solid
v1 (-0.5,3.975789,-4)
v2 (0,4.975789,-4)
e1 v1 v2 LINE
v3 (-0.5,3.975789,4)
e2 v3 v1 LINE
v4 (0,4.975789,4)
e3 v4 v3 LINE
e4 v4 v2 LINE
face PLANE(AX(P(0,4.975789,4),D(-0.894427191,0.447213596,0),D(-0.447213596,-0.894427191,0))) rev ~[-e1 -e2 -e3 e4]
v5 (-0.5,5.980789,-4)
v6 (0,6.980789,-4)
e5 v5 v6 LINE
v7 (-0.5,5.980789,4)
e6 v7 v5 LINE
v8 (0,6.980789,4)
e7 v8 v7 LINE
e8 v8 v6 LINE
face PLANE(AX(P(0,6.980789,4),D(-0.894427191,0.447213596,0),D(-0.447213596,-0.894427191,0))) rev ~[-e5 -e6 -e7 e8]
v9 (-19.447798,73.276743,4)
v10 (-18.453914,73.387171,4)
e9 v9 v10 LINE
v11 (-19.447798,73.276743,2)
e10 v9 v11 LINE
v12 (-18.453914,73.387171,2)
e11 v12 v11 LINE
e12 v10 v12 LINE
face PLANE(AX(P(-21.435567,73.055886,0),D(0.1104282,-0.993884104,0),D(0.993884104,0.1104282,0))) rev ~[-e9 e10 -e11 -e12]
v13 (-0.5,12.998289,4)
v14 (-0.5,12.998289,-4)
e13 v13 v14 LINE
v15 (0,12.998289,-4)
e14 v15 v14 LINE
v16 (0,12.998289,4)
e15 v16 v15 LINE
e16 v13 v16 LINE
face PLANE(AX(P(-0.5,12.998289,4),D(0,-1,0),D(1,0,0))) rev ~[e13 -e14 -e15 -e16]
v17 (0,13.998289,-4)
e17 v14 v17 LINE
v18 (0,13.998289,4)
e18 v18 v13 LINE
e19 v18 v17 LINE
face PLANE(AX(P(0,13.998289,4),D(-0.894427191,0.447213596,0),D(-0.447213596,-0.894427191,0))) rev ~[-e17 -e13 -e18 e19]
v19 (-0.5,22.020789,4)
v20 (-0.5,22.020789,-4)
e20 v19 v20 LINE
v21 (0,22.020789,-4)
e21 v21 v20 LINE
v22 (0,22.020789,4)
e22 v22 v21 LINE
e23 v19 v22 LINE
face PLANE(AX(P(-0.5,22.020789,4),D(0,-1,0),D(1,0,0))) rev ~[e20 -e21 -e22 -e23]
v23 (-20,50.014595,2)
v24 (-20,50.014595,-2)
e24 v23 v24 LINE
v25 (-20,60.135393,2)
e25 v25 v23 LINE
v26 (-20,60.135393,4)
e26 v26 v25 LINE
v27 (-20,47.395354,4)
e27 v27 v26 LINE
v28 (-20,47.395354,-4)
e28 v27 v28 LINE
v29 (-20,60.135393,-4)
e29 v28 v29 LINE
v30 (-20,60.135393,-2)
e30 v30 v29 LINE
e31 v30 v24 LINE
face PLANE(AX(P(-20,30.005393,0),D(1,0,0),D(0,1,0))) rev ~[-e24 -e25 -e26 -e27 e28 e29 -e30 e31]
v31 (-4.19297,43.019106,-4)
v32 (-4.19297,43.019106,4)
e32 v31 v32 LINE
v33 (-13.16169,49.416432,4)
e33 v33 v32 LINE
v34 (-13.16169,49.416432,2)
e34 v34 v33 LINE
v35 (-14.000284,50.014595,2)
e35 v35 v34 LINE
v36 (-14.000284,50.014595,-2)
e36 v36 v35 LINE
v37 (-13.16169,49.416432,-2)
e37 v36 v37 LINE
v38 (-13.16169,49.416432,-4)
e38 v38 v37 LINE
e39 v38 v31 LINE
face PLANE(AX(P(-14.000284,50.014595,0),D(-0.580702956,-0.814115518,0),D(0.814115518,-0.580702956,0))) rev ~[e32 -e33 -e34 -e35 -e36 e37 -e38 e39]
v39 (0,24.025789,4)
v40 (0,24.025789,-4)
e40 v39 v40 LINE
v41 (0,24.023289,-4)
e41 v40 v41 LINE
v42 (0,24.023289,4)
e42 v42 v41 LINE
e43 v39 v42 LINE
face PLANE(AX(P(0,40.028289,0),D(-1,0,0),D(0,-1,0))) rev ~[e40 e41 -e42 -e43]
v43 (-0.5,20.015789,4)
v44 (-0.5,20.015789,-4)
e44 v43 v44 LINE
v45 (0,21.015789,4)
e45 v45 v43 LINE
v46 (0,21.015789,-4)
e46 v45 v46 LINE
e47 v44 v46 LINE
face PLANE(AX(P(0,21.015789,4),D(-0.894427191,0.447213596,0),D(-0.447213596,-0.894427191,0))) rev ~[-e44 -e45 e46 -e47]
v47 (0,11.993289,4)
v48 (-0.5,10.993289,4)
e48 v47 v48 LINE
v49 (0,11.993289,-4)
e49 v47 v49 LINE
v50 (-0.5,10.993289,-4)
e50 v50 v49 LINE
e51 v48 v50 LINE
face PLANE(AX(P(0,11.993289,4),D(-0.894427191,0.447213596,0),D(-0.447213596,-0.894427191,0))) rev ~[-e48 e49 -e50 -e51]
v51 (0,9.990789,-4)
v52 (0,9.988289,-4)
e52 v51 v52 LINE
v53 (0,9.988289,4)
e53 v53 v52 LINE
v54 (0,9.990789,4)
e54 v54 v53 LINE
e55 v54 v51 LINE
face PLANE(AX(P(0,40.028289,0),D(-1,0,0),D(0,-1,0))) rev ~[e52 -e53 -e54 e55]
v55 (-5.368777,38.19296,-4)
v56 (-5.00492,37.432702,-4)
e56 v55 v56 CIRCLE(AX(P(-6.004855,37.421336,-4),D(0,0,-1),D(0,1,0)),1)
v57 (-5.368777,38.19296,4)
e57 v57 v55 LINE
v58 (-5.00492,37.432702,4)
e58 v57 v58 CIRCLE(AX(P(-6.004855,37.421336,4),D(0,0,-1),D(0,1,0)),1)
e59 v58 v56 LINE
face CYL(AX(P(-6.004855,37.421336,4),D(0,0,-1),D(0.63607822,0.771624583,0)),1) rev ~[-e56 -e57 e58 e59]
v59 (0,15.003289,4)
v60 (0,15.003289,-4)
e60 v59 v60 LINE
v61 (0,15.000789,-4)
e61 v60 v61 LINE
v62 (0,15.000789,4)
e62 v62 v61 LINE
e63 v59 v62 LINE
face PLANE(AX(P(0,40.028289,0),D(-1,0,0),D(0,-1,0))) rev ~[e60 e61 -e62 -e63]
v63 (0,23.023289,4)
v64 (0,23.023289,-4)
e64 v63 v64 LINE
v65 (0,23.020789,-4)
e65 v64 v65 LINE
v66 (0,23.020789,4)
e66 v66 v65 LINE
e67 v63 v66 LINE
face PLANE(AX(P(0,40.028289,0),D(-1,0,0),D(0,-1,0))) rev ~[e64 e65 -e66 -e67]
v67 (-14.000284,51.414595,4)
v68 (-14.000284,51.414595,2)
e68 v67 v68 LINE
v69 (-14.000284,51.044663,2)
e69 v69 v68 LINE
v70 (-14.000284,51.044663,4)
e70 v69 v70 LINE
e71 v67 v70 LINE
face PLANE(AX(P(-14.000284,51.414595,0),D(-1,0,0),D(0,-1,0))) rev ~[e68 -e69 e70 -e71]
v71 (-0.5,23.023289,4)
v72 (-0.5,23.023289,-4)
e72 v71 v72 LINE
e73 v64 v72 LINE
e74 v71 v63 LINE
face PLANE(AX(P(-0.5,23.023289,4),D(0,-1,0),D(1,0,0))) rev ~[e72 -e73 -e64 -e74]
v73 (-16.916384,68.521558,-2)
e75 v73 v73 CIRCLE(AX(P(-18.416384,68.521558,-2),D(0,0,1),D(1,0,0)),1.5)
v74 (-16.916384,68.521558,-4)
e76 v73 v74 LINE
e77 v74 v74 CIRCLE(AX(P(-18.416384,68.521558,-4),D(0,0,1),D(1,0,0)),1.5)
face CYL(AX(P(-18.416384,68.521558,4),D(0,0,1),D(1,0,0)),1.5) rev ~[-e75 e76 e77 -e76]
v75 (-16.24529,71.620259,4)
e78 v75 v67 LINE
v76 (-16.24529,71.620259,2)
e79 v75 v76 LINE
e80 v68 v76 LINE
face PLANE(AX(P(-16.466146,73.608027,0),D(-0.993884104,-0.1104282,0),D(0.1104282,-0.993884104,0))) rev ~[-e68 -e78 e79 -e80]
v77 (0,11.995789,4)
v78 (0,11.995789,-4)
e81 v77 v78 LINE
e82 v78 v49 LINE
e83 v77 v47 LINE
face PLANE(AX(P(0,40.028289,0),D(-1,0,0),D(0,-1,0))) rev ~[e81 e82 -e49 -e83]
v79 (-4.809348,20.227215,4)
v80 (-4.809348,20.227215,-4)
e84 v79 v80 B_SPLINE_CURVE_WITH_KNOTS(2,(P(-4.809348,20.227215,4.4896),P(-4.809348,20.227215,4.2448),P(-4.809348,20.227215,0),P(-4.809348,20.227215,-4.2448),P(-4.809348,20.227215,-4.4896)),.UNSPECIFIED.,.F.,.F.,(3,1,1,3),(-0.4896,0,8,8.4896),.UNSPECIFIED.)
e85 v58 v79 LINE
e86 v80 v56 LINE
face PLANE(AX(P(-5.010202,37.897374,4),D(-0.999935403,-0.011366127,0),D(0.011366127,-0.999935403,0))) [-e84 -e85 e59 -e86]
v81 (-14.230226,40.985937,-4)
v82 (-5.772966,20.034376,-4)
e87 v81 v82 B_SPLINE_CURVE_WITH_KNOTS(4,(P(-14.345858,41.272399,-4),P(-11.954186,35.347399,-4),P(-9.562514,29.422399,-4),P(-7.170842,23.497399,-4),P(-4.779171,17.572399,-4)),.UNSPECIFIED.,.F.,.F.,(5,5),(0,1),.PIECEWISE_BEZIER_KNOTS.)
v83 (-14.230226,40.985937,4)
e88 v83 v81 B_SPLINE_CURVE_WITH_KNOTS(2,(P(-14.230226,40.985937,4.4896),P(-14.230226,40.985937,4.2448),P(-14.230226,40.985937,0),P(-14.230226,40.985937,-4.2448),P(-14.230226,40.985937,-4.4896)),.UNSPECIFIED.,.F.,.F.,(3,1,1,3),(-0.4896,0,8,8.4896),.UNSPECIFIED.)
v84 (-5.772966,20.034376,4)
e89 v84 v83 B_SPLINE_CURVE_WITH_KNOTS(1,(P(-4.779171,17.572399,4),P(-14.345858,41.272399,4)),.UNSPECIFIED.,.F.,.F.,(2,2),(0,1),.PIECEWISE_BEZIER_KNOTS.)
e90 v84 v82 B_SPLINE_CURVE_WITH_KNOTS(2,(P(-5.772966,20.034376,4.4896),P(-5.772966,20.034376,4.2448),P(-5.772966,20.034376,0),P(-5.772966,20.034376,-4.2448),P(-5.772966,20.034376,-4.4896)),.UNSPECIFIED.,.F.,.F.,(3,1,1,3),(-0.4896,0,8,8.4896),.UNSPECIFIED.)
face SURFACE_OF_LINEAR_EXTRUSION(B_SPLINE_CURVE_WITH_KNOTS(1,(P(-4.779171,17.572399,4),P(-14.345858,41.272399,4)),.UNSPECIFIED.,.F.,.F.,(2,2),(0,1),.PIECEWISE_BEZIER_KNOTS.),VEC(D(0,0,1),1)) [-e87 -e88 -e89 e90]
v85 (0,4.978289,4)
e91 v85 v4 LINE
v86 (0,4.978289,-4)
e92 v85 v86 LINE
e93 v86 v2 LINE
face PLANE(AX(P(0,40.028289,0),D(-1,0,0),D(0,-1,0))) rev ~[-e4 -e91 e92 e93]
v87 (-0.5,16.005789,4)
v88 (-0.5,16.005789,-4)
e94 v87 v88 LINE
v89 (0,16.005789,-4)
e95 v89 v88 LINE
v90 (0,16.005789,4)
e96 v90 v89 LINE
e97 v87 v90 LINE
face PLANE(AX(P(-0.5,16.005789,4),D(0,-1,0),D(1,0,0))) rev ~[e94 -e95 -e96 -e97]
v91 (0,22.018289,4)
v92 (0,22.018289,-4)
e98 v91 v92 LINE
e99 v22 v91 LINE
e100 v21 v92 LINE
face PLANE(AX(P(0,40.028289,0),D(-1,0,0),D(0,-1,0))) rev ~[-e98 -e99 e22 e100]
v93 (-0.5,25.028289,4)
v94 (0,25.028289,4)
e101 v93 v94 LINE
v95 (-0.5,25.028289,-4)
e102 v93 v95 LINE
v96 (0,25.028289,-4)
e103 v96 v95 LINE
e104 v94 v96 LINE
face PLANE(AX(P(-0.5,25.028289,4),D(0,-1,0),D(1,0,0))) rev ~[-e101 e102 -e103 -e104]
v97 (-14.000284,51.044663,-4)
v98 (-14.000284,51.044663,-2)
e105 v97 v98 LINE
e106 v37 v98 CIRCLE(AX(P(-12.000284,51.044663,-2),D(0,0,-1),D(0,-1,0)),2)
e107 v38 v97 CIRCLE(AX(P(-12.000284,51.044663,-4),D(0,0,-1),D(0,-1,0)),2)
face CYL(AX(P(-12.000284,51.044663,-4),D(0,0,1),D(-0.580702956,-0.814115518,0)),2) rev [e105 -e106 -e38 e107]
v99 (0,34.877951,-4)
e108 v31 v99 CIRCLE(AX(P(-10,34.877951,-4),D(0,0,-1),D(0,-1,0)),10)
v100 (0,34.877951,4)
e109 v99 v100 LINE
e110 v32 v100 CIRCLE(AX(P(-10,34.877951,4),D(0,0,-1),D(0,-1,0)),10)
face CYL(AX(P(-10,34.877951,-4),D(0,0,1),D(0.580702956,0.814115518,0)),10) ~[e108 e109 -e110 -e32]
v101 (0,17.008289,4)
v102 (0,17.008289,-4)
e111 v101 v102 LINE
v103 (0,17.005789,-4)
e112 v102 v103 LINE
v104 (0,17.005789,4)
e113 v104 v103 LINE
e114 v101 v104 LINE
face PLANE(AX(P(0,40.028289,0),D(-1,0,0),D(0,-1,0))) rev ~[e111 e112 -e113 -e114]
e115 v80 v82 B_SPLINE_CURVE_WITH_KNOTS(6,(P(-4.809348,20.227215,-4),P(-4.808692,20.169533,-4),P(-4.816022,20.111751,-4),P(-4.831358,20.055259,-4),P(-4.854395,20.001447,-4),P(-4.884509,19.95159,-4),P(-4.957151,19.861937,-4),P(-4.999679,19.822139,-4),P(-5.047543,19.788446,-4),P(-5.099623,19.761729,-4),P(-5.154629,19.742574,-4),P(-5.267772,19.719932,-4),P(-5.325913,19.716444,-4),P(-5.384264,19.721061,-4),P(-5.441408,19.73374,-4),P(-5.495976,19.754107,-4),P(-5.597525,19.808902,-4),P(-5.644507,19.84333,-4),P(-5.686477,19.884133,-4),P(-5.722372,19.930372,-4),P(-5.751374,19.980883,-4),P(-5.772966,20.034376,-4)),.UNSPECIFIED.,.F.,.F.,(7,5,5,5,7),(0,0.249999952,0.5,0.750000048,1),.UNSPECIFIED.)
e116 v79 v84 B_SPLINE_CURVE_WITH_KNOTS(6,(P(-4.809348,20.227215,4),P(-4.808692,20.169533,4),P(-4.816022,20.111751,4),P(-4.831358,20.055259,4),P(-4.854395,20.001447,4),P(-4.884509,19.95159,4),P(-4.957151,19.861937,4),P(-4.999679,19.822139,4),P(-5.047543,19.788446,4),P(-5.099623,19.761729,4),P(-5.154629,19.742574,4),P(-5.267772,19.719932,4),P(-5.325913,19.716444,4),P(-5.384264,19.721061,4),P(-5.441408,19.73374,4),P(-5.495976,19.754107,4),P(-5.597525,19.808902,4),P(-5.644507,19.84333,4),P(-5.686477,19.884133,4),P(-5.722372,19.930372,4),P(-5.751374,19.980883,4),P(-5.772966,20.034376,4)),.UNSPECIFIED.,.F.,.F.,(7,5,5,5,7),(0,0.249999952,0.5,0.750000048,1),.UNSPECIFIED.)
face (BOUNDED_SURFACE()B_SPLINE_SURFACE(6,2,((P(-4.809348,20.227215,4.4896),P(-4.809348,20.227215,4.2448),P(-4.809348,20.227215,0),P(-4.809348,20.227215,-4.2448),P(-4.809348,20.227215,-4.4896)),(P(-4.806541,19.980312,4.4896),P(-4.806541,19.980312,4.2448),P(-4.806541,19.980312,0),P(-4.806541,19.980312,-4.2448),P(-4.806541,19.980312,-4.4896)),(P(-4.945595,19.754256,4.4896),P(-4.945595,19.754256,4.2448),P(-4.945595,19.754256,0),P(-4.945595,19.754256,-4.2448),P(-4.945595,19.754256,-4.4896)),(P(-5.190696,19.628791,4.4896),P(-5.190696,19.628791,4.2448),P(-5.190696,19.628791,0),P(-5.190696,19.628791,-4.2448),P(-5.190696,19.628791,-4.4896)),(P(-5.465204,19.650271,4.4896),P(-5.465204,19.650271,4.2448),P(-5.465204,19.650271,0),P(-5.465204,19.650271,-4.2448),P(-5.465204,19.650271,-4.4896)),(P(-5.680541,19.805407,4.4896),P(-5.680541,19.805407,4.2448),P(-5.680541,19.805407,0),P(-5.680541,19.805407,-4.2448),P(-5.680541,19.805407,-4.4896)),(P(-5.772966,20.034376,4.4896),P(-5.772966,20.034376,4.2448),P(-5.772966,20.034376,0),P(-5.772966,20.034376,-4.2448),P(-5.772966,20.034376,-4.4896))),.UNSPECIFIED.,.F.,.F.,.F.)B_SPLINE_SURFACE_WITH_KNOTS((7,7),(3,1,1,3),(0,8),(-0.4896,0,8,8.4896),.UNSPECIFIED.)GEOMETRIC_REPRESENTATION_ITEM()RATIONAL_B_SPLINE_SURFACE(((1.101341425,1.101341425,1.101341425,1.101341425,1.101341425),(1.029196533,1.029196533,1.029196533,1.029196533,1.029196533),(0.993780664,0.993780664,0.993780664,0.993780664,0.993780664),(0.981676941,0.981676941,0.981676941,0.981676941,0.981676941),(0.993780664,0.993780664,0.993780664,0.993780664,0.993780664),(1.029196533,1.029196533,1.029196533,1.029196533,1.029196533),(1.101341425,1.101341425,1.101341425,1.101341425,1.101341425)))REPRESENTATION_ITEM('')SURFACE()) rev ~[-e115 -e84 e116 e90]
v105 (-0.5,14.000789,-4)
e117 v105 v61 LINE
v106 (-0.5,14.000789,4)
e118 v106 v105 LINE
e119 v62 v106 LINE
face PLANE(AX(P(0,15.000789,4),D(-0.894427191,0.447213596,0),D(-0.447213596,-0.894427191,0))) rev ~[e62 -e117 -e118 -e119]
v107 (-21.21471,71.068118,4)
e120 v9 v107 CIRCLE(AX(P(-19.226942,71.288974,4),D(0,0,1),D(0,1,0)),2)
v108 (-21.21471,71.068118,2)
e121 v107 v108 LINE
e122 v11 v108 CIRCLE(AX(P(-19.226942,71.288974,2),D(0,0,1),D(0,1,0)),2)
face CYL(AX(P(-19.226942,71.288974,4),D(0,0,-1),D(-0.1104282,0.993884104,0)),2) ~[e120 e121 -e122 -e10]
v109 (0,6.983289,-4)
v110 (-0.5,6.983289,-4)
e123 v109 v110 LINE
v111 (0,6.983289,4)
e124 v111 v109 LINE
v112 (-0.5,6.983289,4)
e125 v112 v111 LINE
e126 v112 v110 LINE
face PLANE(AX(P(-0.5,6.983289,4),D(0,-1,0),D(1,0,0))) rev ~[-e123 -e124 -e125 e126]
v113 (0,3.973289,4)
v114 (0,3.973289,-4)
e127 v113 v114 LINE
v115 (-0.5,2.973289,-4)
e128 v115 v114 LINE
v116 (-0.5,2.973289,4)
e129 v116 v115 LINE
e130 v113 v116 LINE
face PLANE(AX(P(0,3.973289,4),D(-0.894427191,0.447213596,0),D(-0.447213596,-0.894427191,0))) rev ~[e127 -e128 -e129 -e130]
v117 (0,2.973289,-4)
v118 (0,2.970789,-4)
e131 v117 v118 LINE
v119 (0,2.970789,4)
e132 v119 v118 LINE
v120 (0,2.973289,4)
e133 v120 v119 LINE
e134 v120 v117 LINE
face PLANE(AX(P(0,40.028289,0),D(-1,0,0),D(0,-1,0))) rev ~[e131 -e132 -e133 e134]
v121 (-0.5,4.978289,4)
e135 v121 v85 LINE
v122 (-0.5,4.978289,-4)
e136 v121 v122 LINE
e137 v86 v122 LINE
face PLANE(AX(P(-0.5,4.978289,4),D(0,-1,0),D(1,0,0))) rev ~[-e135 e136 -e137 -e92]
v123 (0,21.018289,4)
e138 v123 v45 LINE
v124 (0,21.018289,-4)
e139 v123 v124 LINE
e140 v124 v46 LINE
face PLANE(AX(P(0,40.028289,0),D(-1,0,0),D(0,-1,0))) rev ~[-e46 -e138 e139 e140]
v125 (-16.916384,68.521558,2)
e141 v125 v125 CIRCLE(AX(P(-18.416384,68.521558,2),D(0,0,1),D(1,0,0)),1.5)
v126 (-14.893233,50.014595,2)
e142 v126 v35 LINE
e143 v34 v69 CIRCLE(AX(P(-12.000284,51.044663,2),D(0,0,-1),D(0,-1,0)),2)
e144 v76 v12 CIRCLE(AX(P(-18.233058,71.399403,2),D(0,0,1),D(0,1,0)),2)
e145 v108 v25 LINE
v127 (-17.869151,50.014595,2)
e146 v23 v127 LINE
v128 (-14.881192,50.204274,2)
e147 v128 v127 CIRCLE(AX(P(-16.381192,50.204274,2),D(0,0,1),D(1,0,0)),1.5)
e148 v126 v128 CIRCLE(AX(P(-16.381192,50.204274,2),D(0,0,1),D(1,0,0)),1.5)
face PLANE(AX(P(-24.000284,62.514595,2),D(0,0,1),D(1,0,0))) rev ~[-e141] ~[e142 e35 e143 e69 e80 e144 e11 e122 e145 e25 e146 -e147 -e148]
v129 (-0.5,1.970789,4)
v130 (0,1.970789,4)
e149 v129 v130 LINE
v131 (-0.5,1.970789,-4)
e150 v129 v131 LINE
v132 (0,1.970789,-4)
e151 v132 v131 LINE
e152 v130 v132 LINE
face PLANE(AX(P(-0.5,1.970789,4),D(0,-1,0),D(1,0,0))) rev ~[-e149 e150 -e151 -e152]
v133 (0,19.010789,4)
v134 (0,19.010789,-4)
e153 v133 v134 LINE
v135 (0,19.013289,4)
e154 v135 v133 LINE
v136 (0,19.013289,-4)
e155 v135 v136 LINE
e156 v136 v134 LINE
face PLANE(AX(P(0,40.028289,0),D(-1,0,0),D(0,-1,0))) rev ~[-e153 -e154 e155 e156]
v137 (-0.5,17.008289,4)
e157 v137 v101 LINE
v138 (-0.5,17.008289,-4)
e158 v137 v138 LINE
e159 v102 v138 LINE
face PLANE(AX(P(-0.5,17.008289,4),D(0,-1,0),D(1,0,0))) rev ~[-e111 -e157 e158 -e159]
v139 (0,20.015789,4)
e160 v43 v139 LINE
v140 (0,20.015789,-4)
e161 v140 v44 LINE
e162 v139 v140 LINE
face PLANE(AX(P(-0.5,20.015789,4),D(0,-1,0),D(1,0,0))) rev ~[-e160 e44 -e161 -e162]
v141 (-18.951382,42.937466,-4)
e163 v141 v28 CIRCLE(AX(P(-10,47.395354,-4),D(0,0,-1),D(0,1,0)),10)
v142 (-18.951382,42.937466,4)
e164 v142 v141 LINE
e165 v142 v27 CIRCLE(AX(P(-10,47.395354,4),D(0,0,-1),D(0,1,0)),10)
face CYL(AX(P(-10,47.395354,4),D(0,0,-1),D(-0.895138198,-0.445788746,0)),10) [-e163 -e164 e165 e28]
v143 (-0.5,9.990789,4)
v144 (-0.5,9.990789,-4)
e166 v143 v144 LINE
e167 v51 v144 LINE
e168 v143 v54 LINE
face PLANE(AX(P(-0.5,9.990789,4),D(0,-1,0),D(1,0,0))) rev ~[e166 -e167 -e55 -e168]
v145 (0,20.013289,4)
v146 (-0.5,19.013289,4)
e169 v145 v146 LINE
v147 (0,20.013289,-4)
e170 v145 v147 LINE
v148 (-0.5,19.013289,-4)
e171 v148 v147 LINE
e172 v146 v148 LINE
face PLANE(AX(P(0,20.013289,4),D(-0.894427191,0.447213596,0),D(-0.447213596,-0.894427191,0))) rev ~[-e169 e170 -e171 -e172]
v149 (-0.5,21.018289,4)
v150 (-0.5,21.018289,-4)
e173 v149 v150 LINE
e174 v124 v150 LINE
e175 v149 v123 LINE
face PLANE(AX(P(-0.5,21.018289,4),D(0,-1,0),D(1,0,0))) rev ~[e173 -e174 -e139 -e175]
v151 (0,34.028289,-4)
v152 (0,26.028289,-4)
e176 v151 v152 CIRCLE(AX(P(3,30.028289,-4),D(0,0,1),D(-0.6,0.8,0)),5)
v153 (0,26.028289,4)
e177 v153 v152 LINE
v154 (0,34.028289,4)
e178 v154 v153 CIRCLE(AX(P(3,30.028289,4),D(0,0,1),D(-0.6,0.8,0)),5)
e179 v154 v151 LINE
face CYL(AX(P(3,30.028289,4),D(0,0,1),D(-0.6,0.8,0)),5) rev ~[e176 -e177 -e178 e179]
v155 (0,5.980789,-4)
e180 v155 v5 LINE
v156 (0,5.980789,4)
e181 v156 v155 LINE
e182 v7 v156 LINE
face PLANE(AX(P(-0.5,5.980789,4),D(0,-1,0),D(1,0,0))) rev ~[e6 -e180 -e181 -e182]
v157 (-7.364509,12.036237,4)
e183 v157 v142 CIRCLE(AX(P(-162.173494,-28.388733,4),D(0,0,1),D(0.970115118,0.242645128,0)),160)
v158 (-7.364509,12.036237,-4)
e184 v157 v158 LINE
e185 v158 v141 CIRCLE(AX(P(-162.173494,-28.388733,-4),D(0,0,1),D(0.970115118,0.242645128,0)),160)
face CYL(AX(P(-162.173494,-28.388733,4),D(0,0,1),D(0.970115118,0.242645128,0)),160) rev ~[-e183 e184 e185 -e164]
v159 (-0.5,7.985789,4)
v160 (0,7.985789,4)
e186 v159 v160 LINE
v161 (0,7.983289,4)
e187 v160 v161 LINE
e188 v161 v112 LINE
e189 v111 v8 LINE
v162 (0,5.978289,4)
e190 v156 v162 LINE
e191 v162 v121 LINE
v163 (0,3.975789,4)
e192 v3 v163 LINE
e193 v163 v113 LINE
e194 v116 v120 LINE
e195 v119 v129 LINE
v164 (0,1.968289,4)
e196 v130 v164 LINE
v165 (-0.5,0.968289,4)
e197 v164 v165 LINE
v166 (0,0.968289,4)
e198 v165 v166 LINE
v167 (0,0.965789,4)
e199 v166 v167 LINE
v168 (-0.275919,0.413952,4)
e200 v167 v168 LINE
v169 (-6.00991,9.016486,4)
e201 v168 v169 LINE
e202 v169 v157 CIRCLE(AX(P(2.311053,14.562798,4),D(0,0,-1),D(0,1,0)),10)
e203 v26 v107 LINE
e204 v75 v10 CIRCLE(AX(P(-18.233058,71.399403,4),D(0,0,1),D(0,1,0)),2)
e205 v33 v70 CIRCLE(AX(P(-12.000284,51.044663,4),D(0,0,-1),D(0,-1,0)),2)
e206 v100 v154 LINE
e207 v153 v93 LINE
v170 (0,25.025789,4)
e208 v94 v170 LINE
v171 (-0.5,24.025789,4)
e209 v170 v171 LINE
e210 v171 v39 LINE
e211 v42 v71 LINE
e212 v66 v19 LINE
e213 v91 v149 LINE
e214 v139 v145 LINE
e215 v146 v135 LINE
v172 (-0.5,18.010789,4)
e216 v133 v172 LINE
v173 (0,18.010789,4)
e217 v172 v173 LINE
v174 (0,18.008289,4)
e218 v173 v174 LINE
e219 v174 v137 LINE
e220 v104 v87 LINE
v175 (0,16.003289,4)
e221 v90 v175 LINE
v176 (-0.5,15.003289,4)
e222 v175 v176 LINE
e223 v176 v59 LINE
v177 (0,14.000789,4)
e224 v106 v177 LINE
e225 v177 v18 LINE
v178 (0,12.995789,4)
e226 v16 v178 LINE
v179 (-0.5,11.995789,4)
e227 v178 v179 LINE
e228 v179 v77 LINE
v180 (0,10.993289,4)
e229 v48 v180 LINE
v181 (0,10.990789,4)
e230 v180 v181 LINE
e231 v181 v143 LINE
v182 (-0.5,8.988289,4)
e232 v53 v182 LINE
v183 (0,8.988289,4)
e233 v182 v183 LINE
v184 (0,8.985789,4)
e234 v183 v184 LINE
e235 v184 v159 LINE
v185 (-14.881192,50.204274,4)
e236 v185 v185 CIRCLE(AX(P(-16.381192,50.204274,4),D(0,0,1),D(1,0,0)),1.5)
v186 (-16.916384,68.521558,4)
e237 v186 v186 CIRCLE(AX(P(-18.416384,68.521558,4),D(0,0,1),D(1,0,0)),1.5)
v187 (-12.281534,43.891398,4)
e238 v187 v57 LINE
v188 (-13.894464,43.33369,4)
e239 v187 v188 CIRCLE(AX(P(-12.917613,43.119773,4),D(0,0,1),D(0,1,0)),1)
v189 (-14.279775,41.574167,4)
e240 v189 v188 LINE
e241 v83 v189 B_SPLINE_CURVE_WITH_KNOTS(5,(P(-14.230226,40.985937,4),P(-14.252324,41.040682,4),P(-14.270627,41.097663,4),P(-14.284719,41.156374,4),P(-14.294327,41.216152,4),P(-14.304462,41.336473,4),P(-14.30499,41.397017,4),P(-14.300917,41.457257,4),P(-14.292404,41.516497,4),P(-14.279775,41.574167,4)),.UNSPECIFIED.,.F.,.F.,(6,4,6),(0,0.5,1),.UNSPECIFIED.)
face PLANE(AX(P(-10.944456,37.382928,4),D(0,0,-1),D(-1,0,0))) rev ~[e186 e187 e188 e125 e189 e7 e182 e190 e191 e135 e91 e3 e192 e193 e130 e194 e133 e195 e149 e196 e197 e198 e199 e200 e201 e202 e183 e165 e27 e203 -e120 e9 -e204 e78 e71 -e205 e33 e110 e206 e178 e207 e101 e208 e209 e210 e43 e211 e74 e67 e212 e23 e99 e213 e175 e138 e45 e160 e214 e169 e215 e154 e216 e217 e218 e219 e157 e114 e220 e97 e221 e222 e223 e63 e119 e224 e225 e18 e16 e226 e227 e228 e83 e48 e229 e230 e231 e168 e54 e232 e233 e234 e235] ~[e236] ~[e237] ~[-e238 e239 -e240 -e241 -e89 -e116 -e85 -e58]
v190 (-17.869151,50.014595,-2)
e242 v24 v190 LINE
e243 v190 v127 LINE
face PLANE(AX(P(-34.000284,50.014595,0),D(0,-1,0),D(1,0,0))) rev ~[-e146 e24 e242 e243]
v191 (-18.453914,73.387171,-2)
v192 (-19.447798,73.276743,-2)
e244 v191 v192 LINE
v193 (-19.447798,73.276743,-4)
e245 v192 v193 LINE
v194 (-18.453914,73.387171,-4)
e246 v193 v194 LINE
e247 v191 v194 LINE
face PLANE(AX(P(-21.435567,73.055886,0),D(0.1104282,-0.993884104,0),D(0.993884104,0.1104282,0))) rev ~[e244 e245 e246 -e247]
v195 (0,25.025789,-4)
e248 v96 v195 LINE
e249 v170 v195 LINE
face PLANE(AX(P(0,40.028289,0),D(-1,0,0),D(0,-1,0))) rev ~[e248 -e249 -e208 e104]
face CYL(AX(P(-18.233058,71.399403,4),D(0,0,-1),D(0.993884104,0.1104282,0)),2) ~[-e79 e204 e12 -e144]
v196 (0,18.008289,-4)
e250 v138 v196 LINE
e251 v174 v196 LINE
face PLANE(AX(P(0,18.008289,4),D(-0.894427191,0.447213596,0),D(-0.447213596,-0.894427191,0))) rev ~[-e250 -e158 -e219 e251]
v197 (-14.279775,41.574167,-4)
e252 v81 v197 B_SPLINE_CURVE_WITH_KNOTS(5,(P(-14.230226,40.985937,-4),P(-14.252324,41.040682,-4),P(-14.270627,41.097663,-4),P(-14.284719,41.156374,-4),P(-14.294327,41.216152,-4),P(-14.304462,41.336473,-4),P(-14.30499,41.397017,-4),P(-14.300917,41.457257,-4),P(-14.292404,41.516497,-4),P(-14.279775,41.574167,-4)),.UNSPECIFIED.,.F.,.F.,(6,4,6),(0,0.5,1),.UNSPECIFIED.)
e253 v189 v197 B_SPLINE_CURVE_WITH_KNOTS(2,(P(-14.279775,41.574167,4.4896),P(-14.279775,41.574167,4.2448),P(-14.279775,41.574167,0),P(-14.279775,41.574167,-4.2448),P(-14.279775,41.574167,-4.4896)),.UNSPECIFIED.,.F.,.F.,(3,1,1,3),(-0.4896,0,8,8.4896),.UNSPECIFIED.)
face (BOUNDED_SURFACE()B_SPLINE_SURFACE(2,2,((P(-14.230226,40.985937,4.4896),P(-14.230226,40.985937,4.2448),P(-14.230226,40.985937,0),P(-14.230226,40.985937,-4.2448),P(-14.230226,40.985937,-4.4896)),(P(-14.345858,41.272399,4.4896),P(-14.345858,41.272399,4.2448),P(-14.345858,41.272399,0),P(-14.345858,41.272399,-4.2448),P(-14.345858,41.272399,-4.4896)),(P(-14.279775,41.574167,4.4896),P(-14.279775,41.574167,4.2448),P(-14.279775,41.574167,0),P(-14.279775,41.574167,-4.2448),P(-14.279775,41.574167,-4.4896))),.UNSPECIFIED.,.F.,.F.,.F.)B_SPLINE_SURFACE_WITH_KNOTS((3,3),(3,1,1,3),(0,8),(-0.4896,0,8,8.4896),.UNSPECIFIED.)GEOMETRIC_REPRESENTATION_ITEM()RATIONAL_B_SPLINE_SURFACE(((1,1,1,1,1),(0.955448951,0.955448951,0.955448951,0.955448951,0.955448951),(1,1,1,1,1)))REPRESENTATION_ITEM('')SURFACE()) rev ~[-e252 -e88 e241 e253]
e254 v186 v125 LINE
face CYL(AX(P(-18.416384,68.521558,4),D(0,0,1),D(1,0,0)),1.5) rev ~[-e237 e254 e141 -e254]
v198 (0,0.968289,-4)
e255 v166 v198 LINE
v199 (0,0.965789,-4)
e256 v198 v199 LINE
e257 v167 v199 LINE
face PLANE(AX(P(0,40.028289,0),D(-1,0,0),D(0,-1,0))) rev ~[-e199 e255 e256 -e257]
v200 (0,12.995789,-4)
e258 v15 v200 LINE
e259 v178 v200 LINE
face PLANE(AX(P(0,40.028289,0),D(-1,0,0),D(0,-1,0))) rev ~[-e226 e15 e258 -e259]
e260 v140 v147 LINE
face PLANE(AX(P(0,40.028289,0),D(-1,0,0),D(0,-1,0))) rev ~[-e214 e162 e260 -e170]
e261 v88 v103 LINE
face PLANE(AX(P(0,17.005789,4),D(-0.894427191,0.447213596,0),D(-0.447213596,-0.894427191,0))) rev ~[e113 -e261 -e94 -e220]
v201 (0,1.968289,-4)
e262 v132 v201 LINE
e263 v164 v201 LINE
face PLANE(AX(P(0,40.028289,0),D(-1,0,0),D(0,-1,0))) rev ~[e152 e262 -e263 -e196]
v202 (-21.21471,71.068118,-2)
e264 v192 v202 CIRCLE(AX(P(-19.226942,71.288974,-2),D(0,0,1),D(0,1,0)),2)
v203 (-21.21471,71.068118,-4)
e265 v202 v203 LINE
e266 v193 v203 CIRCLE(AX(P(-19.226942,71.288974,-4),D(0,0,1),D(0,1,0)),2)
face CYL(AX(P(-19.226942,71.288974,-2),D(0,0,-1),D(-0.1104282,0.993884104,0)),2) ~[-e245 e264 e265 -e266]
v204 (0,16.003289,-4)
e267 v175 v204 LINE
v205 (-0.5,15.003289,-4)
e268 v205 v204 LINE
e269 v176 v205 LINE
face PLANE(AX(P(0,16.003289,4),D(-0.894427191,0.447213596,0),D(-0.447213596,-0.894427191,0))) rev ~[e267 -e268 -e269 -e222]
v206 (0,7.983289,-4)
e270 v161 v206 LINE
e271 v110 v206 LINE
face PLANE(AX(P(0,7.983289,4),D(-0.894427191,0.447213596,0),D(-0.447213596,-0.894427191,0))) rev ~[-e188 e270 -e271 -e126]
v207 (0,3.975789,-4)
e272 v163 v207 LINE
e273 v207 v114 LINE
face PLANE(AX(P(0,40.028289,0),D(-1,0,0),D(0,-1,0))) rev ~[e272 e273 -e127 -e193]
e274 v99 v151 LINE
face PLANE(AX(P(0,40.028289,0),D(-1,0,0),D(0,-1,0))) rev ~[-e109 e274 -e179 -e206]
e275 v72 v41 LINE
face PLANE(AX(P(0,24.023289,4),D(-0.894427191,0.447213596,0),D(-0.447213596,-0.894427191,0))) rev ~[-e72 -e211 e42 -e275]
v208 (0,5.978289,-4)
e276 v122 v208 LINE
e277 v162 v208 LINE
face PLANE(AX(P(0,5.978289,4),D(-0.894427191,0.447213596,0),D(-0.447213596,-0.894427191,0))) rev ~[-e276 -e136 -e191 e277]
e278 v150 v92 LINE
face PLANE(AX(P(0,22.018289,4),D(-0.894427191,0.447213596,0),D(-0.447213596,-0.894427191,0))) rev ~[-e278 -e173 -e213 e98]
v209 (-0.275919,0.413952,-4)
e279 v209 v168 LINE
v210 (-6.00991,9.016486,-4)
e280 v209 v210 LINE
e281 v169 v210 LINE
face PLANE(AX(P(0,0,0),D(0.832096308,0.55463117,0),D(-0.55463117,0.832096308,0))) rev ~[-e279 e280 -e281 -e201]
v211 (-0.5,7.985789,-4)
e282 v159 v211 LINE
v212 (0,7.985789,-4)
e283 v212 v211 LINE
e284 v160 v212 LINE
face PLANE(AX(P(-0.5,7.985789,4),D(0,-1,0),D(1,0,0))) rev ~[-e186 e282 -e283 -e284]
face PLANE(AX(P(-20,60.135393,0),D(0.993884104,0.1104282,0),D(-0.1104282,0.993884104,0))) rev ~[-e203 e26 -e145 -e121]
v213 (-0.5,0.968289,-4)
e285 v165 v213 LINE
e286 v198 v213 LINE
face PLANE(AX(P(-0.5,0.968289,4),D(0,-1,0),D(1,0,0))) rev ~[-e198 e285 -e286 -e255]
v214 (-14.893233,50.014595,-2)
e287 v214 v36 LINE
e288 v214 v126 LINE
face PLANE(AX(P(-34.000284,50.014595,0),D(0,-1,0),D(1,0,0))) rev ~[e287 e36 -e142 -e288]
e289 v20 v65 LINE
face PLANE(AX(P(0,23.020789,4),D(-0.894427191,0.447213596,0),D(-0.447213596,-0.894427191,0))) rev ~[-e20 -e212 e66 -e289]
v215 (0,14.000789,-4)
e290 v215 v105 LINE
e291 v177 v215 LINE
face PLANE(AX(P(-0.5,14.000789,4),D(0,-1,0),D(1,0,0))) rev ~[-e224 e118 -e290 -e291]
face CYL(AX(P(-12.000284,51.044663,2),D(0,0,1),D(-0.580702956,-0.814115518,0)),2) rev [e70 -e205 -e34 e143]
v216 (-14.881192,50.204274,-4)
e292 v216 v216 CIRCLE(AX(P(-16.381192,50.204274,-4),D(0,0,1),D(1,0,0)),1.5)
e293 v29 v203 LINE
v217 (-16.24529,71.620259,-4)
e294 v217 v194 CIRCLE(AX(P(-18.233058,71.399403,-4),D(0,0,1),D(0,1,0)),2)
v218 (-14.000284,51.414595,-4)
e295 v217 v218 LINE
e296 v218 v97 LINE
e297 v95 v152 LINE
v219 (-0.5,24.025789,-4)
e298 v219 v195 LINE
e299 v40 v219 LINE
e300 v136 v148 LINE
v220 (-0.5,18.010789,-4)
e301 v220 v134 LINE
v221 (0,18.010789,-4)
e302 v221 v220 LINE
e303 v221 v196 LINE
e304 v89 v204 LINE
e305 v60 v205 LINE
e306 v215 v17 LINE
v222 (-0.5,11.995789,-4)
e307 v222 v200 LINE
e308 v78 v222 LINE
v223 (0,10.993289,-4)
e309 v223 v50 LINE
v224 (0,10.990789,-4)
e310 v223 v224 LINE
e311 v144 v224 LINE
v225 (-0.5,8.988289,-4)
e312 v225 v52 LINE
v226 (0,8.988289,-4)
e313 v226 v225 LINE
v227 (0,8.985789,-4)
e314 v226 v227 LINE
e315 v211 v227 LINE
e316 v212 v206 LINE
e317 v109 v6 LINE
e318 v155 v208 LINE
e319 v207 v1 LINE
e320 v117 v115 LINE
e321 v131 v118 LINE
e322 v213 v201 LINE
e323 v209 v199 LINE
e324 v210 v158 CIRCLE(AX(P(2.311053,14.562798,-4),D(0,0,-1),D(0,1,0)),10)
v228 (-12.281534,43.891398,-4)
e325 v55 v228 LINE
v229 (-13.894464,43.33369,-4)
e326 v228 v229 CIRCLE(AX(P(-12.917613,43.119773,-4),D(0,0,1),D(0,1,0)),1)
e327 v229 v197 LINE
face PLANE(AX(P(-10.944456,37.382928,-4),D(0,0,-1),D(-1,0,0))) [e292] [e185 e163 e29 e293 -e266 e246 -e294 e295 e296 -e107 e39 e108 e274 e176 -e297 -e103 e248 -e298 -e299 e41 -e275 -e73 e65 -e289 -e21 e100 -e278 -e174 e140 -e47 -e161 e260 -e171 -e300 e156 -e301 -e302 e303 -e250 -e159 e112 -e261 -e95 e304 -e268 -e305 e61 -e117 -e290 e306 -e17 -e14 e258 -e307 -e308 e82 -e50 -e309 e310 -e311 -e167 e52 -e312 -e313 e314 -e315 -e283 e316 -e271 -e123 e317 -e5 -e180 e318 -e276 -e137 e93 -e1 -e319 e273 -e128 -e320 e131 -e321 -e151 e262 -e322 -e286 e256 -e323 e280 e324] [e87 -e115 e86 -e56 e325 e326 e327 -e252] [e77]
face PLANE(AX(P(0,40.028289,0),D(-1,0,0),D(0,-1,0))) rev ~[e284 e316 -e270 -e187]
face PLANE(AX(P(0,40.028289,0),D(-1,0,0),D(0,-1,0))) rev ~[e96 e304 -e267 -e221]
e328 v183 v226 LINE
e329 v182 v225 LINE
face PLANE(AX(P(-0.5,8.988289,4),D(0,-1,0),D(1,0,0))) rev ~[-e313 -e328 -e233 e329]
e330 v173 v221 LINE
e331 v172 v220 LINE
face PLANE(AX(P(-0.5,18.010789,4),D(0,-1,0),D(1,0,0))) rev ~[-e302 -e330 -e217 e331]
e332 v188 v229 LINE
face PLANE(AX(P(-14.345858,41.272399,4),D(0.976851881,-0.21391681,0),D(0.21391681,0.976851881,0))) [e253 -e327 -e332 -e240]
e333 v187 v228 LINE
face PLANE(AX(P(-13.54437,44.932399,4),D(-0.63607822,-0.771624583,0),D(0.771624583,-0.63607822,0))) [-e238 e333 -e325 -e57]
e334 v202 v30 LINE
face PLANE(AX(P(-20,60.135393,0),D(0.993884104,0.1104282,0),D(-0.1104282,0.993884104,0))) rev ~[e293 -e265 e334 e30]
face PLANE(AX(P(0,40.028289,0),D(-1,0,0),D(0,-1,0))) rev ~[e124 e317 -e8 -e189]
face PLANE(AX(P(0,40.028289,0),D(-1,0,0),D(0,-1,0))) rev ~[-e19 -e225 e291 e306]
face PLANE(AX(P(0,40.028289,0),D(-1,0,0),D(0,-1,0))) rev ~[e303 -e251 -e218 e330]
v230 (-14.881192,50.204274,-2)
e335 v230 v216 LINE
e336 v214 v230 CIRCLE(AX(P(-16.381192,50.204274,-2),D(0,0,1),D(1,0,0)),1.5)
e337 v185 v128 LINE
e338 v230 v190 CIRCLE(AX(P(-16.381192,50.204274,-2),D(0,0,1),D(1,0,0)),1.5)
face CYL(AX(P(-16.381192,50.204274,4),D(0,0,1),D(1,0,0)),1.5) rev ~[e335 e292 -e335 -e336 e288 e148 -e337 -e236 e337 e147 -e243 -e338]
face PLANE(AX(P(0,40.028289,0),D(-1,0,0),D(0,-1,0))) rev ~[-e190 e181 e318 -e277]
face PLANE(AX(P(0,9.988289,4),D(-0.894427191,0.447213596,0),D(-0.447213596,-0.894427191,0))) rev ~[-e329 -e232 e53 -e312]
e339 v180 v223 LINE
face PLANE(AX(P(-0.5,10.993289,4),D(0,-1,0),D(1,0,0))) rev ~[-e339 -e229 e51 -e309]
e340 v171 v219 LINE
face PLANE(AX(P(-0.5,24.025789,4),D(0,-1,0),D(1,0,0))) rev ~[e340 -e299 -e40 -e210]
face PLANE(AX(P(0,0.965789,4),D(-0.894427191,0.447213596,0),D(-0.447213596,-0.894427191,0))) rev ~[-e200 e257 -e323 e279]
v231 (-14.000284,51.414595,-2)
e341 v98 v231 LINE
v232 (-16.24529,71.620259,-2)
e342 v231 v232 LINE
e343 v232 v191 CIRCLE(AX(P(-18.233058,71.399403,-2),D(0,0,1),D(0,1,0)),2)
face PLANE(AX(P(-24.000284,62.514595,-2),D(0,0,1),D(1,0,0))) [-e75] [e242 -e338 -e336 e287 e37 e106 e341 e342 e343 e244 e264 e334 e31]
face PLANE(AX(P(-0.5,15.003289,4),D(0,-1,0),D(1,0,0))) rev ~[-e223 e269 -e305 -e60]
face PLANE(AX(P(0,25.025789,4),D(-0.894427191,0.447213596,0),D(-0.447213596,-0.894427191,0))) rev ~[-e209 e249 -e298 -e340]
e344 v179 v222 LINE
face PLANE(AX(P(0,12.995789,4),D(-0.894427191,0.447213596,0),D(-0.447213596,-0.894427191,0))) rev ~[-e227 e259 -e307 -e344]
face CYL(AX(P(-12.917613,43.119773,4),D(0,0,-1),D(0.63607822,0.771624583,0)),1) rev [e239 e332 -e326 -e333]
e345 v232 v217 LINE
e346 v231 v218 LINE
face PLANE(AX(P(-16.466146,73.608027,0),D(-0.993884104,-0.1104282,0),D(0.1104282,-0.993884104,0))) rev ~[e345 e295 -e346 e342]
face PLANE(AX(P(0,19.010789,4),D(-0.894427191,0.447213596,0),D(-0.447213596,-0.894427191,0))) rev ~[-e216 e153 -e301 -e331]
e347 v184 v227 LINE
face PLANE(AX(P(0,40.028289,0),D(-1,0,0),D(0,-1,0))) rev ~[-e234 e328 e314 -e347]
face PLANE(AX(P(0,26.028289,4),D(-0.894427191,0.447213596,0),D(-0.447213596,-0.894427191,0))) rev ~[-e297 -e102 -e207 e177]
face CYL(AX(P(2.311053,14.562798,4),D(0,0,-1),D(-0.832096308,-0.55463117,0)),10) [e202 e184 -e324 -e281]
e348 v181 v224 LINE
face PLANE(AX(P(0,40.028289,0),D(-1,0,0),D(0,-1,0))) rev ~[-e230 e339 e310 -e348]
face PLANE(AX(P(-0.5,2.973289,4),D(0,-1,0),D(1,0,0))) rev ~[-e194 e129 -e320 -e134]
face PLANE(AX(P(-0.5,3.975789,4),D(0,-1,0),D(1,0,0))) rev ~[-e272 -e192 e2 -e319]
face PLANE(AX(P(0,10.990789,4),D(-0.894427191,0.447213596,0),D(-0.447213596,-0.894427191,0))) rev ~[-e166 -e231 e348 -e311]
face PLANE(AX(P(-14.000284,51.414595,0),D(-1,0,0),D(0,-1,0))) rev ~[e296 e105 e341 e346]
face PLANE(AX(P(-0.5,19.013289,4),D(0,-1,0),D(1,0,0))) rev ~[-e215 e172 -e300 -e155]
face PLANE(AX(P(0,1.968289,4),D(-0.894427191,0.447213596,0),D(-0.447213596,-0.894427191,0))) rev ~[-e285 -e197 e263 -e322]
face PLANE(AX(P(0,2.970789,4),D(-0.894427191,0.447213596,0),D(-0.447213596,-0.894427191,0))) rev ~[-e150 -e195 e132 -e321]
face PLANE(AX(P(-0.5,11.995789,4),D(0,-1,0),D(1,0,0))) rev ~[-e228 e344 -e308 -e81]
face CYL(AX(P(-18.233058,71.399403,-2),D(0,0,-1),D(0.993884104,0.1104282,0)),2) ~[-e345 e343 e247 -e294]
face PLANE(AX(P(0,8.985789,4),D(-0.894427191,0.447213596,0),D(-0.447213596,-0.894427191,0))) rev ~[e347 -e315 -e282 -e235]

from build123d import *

# Parameters (mm, degrees)
BOSS_EXTRUDE1_DEPTH     = 4
SKETCH2_W               = 20
SKETCH2_H               = 25
CUT_EXTRUDE1_DEPTH      = 2
CUT_EXTRUDE2_DEPTH      = 1
CUT_EXTRUDE2_DEPTH_BACK = 9
CUT_EXTRUDE3_DEPTH      = 9
LPATTERN2_COUNT         = 26
LPATTERN2_PITCH         = 1.0025
CUT_EXTRUDE4_DEPTH      = 9
CUT_EXTRUDE5_DEPTH      = 9
FILLET1_R               = 10
FILLET2_R               = 2
FILLET3_R               = 1
FILLET4_R               = 0.5
SKETCH7_R               = 1.5
CUT_EXTRUDE6_DEPTH      = 9.0000001


with BuildPart() as part:
    # Sketch1 → Boss-Extrude1 (new body, symmetric)
    with BuildSketch(Plane.XY):
        Polygon((0, 0), (-20, 30.005392849), (-20, 60.135392849), (-21.435566599, 73.055886204), (-16.466146078, 73.608027203), (-14.000284373, 51.414595156), (-14.000284373, 50.014595156), (0, 40.028289364), align=None)
    extrude(amount=BOSS_EXTRUDE1_DEPTH, both=True)

    # Sketch2 → Cut-Extrude1 (cut, symmetric)
    with BuildSketch(Plane.XY):
        with Locations((-24.000284373, 62.514595156)):
            Rectangle(SKETCH2_W, SKETCH2_H)
    extrude(amount=CUT_EXTRUDE1_DEPTH, both=True, mode=Mode.SUBTRACT)

    # Sketch3 → Cut-Extrude2 (cut, two sides)
    with BuildSketch(Plane.XY.offset(4)) as cut_extrude2_sk:
        with BuildLine():
            Line((91.496624596, 102.650757811), (0, 34.028289364))
            ThreePointArc((0, 34.028289364), (-2, 30.028289364), (0, 26.028289364))
            Line((0, 26.028289364), (91.496624596, -42.594179083))
            Line((91.496624596, -42.594179083), (320.238186086, -42.594179083))
            Line((320.238186086, -42.594179083), (320.238186086, 102.650757811))
            Line((320.238186086, 102.650757811), (91.496624596, 102.650757811))
        make_face()
    extrude(amount=CUT_EXTRUDE2_DEPTH, mode=Mode.SUBTRACT)
    extrude(cut_extrude2_sk.sketch, amount=-CUT_EXTRUDE2_DEPTH_BACK, mode=Mode.SUBTRACT)

    # Sketch4 → Cut-Extrude3 (cut, through all)
    with BuildSketch(Plane.XY.offset(4)):
        Polygon((0, 26.028289364), (-0.5, 25.028289364), (0, 25.028289364), align=None)
    cut_extrude3 = extrude(amount=-CUT_EXTRUDE3_DEPTH, mode=Mode.SUBTRACT)

    # LPattern2: Cut-Extrude3 ×26
    with Locations(*[(0, -i * LPATTERN2_PITCH, 0) for i in range(1, LPATTERN2_COUNT)]):
        add(cut_extrude3, mode=Mode.SUBTRACT)

    # Sketch5 → Cut-Extrude4 (cut, through all)
    with BuildSketch(Plane.XY.offset(4)):
        with BuildLine():
            Line((-20, 30.005392849), (-6.955074875, 10.434487696))
            ThreePointArc((-6.955074875, 10.434487696), (-12.476218242, 28.097776313), (-20, 45.005392849))
            Line((-20, 45.005392849), (-20, 30.005392849))
        make_face()
    extrude(amount=-CUT_EXTRUDE4_DEPTH, mode=Mode.SUBTRACT)

    # Sketch6 → Cut-Extrude5 (cut, through all)
    with BuildSketch(Plane.XY.offset(4)):
        with BuildLine():
            Line((-13.544369657, 44.932398873), (-5.010201765, 37.897373757))
            Line((-5.010201765, 37.897373757), (-4.779170601, 17.572398873))
            add(Edge.make_bspline(
                [(-4.779170601, 17.572398873), (-14.345858132, 41.272398873)],
                knots=[0, 0, 1, 1], degree=1))
            Line((-14.345858132, 41.272398873), (-13.544369657, 44.932398873))
        make_face()
    extrude(amount=-CUT_EXTRUDE5_DEPTH, mode=Mode.SUBTRACT)

    # Fillet1
    fillet1_edges = [part.edges().sort_by_distance(p)[0] for p in [
        (0, 40.028289364, 0),
        (-20, 45.005392849, 0),
        (-6.955074875, 10.434487696, 0),
    ]]
    fillet(fillet1_edges, radius=FILLET1_R)

    # Fillet2
    fillet2_edges = [part.edges().sort_by_distance(p)[0] for p in [
        (-21.435566599, 73.055886204, 3),
        (-16.466146078, 73.608027203, 3),
        (-14.000284373, 50.014595156, 3),
        (-21.435566599, 73.055886204, -3),
        (-16.466146078, 73.608027203, -3),
        (-14.000284373, 50.014595156, -3),
    ]]
    fillet(fillet2_edges, radius=FILLET2_R)

    # Fillet3
    fillet3_edges = [part.edges().sort_by_distance(p)[0] for p in [
        (-14.345858132, 41.272398873, 0),
        (-5.010201765, 37.897373757, 0),
        (-13.544369657, 44.932398873, 0),
    ]]
    fillet(fillet3_edges, radius=FILLET3_R)

    # Fillet4
    fillet4_edges = [part.edges().sort_by_distance(p)[0] for p in [
        (-4.779170601, 17.572398873, 0),
    ]]
    fillet(fillet4_edges, radius=FILLET4_R)

    # Sketch7 → Cut-Extrude6 (cut, through all)
    with BuildSketch(Plane.XY.offset(4)):
        with Locations((-18.416383851, 68.521557639)):
            Circle(SKETCH7_R)
        with Locations((-16.381192126, 50.204273598)):
            Circle(SKETCH7_R)
    extrude(amount=-CUT_EXTRUDE6_DEPTH, mode=Mode.SUBTRACT)


solid = part.part
